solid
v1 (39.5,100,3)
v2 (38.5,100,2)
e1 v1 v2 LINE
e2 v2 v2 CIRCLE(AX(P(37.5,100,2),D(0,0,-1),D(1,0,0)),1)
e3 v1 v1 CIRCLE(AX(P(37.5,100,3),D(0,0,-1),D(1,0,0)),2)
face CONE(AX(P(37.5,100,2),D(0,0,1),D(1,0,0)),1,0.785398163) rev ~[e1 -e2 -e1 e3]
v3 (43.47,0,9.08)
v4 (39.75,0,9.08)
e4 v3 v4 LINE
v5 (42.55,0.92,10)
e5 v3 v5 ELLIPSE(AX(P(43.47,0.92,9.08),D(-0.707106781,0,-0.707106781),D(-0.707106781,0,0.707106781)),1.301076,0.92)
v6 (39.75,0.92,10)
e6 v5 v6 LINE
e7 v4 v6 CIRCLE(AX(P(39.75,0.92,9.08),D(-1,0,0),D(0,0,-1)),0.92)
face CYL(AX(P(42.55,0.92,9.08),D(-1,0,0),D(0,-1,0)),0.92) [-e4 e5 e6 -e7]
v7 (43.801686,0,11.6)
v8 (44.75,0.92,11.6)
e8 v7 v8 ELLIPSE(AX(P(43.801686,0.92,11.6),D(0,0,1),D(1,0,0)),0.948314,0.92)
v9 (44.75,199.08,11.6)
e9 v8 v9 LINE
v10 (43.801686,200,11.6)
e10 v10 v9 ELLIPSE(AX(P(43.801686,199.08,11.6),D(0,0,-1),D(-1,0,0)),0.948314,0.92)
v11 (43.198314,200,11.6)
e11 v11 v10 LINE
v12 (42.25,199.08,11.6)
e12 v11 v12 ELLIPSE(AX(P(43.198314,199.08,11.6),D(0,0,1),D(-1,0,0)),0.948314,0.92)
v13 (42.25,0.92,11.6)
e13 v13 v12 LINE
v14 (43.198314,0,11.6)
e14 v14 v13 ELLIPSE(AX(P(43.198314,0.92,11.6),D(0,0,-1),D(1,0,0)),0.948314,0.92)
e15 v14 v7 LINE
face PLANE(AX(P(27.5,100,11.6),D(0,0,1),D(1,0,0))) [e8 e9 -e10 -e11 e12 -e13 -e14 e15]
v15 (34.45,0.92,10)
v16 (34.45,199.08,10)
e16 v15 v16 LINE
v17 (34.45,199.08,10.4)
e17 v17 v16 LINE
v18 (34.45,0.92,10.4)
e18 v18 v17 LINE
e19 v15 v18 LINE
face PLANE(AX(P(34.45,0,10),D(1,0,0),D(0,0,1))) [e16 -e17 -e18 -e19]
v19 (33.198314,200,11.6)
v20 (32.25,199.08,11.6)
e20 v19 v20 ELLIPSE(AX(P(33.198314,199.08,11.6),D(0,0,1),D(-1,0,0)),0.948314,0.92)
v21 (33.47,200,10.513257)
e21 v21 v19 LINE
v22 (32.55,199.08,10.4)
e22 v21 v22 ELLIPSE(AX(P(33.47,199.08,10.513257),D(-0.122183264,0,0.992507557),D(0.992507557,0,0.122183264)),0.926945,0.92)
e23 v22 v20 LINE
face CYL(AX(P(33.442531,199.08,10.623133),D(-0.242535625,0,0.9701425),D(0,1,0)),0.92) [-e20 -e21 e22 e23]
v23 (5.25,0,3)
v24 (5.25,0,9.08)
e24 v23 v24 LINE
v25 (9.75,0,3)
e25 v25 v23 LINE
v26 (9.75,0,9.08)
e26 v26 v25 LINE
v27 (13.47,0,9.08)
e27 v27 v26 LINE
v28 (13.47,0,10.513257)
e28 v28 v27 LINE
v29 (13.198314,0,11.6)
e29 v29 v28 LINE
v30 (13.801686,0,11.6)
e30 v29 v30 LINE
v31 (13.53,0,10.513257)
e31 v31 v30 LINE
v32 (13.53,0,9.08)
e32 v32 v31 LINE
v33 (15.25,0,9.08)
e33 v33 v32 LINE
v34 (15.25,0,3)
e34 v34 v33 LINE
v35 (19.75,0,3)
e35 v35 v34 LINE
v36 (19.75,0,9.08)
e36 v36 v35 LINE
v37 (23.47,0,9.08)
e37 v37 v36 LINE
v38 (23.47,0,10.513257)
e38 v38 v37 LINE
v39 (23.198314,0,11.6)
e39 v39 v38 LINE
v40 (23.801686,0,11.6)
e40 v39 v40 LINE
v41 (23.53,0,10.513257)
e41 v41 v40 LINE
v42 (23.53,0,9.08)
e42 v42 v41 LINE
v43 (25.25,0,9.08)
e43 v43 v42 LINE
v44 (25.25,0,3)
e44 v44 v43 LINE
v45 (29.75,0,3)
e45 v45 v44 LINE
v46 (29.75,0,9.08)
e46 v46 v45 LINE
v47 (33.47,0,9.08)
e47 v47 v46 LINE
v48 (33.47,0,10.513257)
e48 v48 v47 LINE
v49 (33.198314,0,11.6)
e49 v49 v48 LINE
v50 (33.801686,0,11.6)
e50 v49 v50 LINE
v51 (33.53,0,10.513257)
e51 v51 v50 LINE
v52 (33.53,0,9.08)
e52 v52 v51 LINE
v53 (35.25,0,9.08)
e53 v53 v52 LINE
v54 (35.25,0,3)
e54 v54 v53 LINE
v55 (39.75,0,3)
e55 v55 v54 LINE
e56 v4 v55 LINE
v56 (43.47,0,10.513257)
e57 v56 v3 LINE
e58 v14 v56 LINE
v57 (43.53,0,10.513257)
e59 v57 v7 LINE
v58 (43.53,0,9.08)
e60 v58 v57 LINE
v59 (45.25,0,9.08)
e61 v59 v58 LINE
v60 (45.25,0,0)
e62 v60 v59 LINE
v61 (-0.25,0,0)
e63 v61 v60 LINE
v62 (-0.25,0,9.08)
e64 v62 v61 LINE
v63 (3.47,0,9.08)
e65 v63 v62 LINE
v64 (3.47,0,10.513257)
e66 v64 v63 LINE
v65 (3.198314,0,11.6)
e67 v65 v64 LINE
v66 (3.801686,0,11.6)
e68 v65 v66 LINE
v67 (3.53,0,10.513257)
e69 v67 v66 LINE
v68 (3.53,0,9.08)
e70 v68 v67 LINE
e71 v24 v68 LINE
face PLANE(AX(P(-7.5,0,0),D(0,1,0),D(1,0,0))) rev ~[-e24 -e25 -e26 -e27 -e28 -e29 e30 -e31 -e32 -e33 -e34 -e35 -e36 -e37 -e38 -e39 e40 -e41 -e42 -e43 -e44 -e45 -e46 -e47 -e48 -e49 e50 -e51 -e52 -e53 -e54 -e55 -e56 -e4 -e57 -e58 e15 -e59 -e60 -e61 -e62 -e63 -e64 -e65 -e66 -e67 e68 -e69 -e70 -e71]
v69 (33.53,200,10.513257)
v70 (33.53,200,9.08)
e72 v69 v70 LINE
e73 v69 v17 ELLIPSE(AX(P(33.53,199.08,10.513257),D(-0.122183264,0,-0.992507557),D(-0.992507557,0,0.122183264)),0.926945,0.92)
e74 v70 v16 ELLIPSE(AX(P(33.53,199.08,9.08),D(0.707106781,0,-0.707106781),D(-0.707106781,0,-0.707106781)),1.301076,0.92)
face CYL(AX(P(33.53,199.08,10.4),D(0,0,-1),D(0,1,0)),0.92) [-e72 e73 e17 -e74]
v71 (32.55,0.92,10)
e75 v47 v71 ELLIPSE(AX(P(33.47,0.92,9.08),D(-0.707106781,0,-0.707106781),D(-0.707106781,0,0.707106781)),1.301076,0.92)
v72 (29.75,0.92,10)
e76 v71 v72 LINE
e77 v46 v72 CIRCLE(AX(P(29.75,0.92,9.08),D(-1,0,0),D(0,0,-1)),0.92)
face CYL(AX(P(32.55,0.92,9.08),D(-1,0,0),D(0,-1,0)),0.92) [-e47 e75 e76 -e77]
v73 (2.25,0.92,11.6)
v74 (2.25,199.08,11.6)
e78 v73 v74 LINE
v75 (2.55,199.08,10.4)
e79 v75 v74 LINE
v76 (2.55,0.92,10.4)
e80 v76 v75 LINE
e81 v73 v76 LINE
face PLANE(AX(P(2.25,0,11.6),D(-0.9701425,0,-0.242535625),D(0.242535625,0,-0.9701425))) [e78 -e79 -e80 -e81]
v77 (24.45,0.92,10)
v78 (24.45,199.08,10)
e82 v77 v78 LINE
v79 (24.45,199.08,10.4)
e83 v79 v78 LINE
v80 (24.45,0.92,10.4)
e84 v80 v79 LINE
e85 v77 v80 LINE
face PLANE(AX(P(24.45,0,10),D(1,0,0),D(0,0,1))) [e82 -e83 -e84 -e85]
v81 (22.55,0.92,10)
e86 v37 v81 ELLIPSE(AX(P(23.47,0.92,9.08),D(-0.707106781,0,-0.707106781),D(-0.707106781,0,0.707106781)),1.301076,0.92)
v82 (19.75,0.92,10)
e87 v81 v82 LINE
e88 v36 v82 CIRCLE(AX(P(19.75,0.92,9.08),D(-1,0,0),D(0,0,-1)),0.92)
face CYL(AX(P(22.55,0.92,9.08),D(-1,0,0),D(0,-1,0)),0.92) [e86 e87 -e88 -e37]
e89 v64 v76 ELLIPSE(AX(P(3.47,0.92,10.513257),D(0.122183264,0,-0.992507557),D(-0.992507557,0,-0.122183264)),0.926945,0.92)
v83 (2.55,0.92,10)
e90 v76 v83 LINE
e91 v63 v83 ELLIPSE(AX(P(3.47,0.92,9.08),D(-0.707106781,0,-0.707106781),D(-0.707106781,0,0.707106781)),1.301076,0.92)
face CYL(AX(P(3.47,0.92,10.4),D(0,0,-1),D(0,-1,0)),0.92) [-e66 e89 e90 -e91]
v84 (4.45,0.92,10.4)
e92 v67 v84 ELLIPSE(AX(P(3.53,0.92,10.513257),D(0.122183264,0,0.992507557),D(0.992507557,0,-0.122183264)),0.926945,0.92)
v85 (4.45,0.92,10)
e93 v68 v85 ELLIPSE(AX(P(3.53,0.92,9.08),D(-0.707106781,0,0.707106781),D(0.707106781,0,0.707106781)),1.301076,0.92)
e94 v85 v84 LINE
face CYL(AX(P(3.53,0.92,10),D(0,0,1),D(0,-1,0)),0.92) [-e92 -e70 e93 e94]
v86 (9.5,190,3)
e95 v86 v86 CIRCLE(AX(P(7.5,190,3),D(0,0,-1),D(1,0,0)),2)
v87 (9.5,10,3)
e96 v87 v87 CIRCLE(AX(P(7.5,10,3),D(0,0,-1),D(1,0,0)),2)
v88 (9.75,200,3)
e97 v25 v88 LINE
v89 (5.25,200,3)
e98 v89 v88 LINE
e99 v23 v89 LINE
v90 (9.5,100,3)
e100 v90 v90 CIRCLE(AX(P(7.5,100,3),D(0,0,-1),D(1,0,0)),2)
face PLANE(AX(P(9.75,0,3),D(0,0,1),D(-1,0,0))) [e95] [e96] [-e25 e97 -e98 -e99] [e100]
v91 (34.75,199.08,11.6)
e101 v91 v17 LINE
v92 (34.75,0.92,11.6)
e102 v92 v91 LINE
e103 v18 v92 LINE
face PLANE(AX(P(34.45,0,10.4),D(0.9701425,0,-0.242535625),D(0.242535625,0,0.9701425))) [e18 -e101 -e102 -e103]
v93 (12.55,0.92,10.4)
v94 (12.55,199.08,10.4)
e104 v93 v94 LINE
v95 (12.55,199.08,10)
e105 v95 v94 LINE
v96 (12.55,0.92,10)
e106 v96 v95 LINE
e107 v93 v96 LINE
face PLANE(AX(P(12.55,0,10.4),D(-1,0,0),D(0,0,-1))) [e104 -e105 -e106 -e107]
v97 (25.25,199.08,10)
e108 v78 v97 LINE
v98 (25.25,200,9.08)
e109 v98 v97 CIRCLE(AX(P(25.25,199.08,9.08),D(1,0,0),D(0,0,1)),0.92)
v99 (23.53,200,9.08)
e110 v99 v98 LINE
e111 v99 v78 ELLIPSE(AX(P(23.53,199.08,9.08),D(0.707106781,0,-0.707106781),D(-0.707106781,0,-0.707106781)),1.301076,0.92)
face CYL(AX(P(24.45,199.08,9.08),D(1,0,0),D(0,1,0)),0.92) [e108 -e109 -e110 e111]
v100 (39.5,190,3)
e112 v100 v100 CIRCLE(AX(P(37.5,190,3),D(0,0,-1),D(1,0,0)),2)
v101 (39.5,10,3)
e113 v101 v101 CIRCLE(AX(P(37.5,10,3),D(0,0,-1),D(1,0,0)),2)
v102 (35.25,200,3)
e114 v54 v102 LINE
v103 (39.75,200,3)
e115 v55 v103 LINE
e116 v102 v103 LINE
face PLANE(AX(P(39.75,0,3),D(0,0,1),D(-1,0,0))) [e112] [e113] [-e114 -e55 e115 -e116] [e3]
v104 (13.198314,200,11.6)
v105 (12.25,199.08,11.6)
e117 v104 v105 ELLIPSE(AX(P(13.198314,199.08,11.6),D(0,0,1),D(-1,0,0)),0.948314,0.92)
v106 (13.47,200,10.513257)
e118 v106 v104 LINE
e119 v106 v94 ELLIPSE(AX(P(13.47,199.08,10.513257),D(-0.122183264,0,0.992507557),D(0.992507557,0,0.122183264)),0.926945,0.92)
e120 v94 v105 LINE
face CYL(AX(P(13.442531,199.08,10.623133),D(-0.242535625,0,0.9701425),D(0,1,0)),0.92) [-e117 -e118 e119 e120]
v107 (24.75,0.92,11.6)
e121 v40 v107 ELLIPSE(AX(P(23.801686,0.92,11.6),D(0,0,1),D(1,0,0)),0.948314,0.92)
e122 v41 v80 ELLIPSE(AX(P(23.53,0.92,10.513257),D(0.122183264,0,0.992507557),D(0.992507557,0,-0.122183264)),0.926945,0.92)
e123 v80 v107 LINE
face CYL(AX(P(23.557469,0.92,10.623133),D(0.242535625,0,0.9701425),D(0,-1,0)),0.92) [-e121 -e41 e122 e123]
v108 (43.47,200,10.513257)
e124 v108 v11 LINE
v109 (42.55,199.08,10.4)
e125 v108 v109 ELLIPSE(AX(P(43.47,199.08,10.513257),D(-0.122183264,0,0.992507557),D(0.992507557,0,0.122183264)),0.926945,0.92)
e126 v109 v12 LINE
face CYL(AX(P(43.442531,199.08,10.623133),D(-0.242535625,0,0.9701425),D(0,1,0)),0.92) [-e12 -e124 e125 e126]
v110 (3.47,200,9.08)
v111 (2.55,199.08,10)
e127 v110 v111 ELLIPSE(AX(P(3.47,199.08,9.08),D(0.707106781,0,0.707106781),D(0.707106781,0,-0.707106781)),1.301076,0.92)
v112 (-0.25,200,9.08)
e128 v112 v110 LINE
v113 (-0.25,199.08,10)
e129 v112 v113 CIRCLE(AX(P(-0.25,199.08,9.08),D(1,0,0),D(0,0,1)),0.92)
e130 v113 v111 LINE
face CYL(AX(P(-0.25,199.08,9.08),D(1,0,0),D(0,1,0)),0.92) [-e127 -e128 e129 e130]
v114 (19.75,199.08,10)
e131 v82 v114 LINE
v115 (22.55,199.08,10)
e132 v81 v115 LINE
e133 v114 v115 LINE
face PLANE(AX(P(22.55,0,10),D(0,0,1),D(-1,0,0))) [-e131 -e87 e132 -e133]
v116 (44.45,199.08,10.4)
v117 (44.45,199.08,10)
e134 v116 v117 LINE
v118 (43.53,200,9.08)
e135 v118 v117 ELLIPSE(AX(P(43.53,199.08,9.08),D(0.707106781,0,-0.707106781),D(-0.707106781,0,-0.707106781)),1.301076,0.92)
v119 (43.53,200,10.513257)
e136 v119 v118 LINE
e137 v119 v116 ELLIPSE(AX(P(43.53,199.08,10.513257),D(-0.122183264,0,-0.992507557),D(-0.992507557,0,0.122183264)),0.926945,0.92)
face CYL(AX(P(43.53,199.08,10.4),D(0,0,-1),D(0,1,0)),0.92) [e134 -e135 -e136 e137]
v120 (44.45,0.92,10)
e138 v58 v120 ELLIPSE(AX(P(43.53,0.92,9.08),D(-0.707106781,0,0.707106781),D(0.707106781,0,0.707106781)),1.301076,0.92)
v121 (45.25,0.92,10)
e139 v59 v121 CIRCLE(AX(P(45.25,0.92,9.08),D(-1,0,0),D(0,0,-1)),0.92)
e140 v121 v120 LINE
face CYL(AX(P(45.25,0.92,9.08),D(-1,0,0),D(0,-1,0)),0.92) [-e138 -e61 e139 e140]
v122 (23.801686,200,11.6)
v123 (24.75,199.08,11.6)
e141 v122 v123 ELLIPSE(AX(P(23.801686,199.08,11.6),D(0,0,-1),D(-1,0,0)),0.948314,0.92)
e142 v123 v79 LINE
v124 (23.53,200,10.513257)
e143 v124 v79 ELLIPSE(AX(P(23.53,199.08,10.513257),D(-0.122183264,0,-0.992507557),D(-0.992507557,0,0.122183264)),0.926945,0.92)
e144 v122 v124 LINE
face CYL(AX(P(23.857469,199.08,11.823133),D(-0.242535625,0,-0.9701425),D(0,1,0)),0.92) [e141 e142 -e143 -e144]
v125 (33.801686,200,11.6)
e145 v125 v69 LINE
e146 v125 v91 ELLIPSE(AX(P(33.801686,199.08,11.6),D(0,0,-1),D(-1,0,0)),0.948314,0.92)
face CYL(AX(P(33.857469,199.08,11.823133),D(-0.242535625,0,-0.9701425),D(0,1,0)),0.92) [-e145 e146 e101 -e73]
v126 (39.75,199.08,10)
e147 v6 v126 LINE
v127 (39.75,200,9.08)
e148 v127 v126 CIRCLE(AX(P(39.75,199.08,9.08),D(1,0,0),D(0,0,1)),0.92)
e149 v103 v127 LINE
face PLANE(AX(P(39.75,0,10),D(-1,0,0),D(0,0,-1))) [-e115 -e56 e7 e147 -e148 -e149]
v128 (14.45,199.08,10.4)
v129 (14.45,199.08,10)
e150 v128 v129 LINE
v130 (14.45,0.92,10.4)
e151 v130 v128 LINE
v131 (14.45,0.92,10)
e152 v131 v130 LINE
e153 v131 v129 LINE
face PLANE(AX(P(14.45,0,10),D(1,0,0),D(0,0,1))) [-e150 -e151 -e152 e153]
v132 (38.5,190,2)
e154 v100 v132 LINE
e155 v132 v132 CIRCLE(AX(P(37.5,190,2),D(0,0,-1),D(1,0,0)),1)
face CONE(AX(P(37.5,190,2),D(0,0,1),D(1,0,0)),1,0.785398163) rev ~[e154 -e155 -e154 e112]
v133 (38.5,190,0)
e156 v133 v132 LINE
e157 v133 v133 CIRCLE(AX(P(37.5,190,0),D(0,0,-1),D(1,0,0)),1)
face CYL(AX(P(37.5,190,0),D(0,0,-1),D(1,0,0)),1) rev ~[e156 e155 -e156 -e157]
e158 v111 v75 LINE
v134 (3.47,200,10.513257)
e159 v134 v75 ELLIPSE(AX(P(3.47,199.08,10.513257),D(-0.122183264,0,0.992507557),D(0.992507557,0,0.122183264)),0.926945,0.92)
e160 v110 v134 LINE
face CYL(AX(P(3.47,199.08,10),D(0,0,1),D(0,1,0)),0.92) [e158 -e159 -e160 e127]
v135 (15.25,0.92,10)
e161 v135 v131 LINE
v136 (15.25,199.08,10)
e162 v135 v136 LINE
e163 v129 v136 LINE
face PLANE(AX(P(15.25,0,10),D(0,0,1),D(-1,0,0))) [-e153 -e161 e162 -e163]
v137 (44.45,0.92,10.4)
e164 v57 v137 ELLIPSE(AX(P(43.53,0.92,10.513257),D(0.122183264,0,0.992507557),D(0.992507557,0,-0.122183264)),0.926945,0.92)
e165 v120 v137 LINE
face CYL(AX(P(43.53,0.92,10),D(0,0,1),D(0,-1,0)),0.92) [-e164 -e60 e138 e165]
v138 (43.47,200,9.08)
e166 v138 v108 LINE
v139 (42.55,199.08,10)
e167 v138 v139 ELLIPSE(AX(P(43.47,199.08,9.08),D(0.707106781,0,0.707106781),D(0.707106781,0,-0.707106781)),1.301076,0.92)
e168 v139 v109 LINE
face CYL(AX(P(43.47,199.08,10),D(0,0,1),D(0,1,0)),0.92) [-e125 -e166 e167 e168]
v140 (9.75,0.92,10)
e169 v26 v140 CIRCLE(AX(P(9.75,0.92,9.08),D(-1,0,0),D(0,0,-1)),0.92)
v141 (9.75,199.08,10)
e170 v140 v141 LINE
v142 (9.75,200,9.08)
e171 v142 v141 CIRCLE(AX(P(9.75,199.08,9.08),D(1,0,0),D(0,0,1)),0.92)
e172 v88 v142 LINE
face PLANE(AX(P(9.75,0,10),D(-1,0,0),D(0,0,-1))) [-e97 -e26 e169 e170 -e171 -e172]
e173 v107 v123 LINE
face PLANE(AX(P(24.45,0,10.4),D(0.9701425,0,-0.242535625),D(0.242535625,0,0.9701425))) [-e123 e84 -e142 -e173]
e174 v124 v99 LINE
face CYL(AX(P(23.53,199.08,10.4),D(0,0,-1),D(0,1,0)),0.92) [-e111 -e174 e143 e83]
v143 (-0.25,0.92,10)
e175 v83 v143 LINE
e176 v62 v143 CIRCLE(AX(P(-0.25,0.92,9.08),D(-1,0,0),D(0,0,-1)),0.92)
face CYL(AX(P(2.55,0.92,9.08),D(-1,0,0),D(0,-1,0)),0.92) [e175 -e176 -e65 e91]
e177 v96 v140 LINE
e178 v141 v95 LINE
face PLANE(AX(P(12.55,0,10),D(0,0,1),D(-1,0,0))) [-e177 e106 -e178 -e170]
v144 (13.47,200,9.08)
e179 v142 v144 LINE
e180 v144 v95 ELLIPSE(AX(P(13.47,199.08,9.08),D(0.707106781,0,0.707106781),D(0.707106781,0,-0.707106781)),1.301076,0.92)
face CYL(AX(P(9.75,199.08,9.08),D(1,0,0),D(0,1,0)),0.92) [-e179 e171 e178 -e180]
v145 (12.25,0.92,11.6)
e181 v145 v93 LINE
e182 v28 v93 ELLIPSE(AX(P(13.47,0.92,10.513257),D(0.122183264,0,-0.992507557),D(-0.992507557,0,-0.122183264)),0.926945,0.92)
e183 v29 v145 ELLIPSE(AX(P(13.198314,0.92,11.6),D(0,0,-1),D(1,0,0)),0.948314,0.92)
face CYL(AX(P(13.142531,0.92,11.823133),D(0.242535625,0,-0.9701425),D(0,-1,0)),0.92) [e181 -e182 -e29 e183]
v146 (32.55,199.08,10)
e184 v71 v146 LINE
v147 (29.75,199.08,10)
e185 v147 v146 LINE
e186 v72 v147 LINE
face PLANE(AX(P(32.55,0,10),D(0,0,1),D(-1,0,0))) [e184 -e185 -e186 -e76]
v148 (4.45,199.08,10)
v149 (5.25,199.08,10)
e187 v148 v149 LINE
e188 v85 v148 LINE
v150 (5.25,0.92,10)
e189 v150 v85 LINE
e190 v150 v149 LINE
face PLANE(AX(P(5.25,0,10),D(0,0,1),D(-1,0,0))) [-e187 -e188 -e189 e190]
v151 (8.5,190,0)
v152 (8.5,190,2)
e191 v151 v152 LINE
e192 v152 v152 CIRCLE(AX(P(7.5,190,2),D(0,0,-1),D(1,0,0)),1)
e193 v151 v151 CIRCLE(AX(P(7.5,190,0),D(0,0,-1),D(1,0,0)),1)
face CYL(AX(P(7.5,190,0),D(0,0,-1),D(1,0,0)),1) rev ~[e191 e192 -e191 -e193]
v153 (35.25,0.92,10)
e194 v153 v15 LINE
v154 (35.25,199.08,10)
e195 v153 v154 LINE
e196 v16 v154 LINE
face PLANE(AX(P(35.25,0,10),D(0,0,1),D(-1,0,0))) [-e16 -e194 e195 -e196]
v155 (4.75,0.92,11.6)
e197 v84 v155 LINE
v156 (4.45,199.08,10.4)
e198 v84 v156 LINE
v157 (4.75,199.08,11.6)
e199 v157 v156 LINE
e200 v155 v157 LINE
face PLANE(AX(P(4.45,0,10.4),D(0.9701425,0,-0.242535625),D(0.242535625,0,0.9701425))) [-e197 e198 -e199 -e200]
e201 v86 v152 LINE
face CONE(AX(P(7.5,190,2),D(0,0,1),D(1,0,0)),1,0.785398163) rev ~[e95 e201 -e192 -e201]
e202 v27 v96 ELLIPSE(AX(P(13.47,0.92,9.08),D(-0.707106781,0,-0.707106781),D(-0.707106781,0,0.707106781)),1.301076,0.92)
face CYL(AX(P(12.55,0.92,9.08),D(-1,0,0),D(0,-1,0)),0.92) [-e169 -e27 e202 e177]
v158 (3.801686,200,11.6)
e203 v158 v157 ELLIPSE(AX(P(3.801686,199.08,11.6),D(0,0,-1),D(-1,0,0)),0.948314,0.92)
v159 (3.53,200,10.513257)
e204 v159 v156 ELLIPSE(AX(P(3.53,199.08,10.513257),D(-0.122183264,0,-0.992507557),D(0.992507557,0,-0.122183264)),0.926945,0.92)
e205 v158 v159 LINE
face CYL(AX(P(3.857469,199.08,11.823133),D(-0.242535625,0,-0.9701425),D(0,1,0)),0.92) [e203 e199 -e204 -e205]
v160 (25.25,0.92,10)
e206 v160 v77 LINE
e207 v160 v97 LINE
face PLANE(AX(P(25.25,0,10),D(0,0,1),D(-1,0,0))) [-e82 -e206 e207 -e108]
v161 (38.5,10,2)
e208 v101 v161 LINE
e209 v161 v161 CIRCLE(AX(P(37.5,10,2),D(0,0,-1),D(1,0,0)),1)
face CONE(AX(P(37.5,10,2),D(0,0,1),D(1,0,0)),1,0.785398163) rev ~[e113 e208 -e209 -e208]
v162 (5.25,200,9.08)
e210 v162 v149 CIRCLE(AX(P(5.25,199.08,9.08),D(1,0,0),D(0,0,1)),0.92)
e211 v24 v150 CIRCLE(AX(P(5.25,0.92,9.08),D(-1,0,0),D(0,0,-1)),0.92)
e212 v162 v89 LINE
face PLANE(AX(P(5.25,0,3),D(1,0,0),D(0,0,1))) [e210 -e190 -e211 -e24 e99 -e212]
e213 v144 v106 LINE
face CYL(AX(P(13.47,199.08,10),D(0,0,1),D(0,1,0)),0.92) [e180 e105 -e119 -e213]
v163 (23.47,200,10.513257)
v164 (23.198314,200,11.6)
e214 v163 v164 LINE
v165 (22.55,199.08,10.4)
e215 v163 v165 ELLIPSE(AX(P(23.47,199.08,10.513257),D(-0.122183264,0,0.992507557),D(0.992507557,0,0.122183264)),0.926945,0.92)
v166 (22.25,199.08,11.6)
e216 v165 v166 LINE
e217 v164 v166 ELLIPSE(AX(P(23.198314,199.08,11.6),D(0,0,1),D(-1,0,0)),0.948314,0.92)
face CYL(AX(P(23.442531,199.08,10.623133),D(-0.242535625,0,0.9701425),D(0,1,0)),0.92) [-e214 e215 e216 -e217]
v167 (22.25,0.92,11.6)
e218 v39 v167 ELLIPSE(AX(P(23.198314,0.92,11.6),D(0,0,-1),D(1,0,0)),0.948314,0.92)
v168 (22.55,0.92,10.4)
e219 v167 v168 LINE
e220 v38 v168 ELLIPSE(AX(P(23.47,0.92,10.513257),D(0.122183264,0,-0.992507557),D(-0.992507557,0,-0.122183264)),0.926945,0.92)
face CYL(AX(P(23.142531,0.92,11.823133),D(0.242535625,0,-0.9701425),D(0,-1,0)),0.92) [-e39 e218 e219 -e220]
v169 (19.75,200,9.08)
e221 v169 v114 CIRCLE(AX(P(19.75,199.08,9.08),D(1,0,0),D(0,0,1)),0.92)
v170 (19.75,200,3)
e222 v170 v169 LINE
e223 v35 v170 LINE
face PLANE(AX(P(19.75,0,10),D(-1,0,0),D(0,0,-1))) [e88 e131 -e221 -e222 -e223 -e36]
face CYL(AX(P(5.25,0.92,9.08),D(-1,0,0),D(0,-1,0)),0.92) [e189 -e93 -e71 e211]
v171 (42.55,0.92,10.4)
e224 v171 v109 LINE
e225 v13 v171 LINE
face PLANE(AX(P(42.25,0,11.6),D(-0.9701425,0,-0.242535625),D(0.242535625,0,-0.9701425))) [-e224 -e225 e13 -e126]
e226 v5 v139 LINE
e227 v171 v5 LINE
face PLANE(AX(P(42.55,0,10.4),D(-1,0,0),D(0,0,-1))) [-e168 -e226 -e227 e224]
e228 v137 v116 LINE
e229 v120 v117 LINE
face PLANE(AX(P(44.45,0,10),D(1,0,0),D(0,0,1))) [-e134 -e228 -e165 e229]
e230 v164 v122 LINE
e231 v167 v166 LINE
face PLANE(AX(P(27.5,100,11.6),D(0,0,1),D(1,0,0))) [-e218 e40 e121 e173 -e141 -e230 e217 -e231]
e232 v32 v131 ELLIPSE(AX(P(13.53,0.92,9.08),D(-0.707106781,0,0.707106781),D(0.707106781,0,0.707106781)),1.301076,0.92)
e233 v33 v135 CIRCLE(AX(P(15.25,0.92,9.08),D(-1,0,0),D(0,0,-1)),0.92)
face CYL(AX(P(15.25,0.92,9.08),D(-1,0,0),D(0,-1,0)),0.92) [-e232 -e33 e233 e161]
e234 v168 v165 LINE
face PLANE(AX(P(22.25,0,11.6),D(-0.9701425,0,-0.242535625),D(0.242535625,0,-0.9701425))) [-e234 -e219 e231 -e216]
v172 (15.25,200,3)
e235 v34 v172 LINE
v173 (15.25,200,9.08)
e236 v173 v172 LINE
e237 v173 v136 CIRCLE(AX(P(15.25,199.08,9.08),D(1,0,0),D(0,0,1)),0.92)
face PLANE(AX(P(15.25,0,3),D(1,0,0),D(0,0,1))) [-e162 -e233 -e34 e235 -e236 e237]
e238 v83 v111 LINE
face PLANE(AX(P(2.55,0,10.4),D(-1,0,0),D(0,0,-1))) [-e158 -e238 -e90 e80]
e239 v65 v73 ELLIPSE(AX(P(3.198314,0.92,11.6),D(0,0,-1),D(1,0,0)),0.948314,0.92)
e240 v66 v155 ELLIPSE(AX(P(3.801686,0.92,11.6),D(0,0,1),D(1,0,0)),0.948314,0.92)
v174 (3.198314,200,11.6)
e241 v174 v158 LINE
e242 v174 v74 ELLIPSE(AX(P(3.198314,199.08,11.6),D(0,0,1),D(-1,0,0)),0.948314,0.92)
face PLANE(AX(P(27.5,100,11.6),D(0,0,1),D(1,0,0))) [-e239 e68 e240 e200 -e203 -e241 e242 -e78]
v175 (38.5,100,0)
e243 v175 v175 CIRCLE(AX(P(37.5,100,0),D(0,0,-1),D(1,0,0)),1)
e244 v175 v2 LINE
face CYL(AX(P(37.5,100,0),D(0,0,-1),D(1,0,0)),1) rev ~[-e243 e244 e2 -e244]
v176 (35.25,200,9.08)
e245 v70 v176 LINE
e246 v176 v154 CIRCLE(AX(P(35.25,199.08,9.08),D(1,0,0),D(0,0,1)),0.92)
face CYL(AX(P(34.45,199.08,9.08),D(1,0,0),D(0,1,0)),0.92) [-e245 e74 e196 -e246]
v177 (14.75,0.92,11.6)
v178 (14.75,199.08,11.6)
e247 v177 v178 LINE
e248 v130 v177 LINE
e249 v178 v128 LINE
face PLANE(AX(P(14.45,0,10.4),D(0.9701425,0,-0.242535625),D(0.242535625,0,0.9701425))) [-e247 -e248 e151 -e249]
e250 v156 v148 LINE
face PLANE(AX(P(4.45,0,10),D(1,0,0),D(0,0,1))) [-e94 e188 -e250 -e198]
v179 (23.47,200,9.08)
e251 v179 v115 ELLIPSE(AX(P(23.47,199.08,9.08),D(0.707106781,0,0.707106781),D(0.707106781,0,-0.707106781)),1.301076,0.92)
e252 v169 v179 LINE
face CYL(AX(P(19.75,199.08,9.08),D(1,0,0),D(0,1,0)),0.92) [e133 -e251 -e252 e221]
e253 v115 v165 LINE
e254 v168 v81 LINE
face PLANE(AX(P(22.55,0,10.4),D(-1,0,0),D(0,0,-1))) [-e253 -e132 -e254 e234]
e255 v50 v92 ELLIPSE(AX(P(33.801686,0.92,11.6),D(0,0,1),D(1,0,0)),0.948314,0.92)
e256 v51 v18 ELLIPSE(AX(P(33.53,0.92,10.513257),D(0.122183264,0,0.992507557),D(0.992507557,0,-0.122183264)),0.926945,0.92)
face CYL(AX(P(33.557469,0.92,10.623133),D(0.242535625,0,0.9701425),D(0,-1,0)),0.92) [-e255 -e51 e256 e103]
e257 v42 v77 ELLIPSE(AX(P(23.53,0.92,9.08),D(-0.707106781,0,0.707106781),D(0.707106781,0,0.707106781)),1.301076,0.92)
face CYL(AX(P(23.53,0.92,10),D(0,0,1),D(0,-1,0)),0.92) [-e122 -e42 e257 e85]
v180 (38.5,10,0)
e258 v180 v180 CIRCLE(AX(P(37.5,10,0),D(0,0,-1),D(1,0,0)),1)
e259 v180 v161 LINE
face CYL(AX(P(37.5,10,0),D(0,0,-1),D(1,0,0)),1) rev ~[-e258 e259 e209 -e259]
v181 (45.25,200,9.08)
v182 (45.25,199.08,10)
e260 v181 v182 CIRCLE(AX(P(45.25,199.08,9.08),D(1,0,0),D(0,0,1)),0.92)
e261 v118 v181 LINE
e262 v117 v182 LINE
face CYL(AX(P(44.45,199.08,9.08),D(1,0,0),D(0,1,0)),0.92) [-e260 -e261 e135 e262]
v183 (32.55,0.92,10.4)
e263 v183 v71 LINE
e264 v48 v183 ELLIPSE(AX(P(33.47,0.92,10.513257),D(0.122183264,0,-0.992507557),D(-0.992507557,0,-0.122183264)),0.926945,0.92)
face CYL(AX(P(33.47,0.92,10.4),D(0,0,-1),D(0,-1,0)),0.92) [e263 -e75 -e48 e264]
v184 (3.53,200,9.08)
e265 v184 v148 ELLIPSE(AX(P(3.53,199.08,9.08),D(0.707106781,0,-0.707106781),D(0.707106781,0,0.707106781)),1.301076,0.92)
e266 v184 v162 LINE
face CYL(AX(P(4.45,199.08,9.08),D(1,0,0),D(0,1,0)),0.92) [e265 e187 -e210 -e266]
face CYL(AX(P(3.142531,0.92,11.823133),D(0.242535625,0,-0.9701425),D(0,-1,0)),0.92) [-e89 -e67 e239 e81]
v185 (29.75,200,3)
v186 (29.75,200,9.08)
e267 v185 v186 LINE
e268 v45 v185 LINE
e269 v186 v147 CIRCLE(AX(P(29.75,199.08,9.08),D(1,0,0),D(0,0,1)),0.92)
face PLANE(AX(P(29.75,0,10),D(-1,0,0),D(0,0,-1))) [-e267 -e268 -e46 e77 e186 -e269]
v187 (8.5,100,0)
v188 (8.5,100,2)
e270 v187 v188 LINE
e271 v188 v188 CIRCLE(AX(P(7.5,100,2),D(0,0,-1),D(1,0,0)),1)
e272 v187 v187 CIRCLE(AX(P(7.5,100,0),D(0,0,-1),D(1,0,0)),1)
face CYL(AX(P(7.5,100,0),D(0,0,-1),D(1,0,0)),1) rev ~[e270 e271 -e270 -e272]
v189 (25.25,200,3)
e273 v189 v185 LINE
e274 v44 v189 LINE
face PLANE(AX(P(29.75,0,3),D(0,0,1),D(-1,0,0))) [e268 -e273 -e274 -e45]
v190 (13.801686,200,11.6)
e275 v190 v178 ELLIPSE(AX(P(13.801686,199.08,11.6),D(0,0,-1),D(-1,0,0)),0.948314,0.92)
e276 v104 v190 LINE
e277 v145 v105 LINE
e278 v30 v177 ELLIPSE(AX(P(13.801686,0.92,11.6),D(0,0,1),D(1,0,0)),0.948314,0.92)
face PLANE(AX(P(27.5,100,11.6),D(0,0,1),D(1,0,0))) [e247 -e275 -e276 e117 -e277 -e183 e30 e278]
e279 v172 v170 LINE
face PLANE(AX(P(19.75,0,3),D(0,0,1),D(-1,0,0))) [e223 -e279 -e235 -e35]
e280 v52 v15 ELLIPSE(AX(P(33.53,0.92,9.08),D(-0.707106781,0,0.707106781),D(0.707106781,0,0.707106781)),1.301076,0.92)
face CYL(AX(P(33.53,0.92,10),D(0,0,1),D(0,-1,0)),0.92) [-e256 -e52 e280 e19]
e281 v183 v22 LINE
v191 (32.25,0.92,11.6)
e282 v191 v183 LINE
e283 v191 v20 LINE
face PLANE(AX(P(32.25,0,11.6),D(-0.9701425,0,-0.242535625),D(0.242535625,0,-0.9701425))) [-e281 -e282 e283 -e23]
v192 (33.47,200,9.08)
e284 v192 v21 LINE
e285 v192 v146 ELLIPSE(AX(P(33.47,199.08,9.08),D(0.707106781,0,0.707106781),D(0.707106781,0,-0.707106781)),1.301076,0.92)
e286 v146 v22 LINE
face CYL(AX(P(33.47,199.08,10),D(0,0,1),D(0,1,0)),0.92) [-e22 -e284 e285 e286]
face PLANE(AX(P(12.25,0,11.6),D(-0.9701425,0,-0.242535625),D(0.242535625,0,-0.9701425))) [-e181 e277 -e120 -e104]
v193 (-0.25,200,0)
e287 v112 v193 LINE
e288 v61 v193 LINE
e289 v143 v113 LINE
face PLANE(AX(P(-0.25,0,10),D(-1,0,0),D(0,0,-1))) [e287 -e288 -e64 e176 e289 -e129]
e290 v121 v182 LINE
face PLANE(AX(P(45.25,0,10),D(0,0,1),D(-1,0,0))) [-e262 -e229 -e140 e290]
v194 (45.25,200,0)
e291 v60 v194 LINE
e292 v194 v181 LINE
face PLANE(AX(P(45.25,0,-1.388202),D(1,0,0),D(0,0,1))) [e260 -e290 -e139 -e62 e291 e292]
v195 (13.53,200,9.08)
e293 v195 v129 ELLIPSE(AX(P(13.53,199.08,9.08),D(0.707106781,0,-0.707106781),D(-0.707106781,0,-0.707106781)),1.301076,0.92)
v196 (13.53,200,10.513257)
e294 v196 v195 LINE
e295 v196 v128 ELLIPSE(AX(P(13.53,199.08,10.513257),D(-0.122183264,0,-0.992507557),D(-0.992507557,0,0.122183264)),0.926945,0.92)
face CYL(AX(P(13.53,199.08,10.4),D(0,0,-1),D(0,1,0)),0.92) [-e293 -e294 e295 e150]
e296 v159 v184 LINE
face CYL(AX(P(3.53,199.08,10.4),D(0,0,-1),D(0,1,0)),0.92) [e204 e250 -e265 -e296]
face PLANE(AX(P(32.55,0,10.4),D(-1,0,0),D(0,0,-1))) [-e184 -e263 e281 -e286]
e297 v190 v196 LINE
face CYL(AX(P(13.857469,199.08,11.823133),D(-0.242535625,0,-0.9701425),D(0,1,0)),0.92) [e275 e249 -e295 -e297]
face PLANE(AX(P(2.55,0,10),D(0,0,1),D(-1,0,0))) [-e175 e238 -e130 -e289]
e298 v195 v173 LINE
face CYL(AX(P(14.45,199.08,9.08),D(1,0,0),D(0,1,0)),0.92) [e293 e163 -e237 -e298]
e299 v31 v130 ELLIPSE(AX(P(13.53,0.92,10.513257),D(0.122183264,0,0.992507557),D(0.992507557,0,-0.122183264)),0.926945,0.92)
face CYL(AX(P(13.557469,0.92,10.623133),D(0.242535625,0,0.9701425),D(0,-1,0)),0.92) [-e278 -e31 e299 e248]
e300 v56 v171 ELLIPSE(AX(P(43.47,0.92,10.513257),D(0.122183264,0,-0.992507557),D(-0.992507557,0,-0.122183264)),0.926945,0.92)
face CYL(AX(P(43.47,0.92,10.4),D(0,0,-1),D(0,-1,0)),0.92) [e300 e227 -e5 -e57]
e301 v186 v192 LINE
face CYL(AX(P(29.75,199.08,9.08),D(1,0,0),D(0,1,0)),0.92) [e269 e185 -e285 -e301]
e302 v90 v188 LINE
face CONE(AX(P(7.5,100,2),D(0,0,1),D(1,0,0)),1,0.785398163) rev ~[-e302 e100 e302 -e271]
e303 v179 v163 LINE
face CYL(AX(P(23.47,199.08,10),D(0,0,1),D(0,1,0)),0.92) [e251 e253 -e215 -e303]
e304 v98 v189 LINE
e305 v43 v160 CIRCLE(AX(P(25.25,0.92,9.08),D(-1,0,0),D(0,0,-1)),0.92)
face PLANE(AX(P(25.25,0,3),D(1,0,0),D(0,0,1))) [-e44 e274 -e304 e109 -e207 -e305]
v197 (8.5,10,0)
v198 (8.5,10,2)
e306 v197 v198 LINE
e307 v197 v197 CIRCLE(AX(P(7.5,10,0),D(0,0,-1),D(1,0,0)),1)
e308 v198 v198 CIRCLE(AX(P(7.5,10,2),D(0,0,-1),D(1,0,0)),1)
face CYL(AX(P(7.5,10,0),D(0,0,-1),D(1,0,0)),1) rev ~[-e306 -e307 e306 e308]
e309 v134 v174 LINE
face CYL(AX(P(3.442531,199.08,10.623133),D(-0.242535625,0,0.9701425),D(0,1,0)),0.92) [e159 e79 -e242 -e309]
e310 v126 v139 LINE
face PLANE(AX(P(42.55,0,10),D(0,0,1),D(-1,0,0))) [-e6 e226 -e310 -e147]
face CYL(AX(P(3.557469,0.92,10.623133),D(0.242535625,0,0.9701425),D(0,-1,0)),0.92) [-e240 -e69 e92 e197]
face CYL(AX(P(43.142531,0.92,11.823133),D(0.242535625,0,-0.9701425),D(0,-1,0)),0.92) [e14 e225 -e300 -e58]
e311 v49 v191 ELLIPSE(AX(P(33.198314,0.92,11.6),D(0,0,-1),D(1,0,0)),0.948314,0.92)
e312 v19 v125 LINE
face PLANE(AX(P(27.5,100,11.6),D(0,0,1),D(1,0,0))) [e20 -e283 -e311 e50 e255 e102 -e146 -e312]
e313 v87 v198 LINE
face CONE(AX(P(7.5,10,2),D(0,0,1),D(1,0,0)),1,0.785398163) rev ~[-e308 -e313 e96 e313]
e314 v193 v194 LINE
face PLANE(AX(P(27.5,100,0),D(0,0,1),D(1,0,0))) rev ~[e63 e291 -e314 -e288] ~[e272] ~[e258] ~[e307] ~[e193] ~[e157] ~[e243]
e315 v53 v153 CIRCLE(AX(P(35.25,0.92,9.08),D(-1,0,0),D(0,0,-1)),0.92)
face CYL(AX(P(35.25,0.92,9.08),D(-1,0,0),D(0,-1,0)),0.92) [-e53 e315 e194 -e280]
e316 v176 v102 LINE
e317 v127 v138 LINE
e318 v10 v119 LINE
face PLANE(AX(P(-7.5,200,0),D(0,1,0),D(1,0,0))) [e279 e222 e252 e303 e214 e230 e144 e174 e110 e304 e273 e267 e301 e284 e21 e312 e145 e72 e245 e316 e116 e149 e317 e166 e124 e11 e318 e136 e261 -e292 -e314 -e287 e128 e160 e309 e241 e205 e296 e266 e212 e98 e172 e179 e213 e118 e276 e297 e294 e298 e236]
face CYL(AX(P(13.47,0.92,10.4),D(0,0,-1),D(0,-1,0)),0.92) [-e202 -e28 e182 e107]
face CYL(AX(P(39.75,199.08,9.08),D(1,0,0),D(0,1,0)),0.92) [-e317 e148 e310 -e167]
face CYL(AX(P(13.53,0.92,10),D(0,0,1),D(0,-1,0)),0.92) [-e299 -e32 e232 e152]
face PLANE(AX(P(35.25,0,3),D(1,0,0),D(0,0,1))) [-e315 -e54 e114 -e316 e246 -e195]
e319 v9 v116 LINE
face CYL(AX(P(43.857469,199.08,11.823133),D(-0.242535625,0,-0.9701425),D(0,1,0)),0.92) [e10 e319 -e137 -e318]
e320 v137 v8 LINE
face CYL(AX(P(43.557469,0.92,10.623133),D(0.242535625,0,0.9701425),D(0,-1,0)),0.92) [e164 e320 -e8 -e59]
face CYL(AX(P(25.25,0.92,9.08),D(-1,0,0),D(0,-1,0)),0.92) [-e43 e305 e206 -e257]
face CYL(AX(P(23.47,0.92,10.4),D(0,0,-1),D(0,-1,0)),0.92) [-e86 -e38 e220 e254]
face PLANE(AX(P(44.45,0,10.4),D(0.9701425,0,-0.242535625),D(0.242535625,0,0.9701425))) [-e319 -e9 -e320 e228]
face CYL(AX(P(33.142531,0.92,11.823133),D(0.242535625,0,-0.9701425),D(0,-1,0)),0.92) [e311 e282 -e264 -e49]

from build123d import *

# Parameters (mm, degrees)
BOX_W               = 70
BOX_H               = 200
BOX_DEPTH           = 11.6
POCKET_DEPTH        = 200.001
LINEARPATTERN_COUNT = 6
LINEARPATTERN_PITCH = 10
SKETCH_W            = 82.408782
SKETCH_H            = 38.885188
SKETCH_W_2          = 45.5
SKETCH_H_2          = 14.501198
POCKET001_DEPTH     = 200.001
SKETCH003_R         = 1
POCKET002_DEPTH     = 11.601
CHAMFER_SIZE        = 1
FILLET_R            = 0.92


with BuildPart() as part:
    # Box → Box (new body)
    with BuildSketch(Plane(origin=(-7.5, 0, 0), x_dir=(1, 0, 0), z_dir=(0, 0, 1))):
        with Locations((35, 100)):
            Rectangle(BOX_W, BOX_H)
    extrude(amount=BOX_DEPTH)

    # Sketch002 → Pocket (cut, through all)
    with BuildSketch(Plane(origin=(-7.5, 0, 0), x_dir=(1, 0, 0), z_dir=(0, -1, 0))):
        Polygon((10.05, 10), (7.25, 10), (7.25, 3), (2.75, 3), (2.75, 10), (1.95, 10), (1.95, 10.4), (2.25, 11.6), (9.75, 11.6), (10.05, 10.4), align=None)
    pocket = extrude(amount=-POCKET_DEPTH, mode=Mode.SUBTRACT)

    # LinearPattern: Pocket ×6
    with Locations(*[(i * LINEARPATTERN_PITCH, 0, 0) for i in range(1, LINEARPATTERN_COUNT)]):
        add(pocket, mode=Mode.SUBTRACT)

    # Sketch → Pocket001 (cut, through all)
    with BuildSketch(Plane(origin=(-7.5, 0, 0), x_dir=(1, 0, 0), z_dir=(0, -1, 0))):
        with Locations((35.413628, 6.289411)):
            Rectangle(SKETCH_W, SKETCH_H)
        with Locations((30, 5.862397)):
            Rectangle(SKETCH_W_2, SKETCH_H_2, mode=Mode.SUBTRACT)
    extrude(amount=-POCKET001_DEPTH, mode=Mode.SUBTRACT)

    # Sketch003 → Pocket002 (cut, through all)
    with BuildSketch(Plane(origin=(-7.5, 0, 0), x_dir=(1, 0, 0), z_dir=(0, 0, -1))):
        with Locations((15, -10)):
            Circle(SKETCH003_R)
        with Locations((45, -10)):
            Circle(SKETCH003_R)
        with Locations((15, -190)):
            Circle(SKETCH003_R)
        with Locations((45, -190)):
            Circle(SKETCH003_R)
        with Locations((15, -100)):
            Circle(SKETCH003_R)
        with Locations((45, -100)):
            Circle(SKETCH003_R)
    extrude(amount=-POCKET002_DEPTH, mode=Mode.SUBTRACT)

    # Chamfer
    chamfer_edges = [part.edges().sort_by_distance(p)[0] for p in [
        (36.5, 190, 3),
        (6.5, 190, 3),
        (36.5, 100, 3),
        (6.5, 100, 3),
        (36.5, 10, 3),
        (6.5, 10, 3),
    ]]
    chamfer(chamfer_edges, length=CHAMFER_SIZE)

    # Fillet
    fillet_edges = [part.edges().sort_by_distance(p)[0] for p in [
        (1.15, 0, 10),
        (2.55, 0, 10.2),
        (2.4, 0, 11),
        (4.6, 0, 11),
        (4.45, 0, 10.2),
        (4.85, 0, 10),
        (11.15, 0, 10),
        (12.55, 0, 10.2),
        (12.4, 0, 11),
        (14.6, 0, 11),
        (14.45, 0, 10.2),
        (14.85, 0, 10),
        (21.15, 0, 10),
        (22.55, 0, 10.2),
        (22.4, 0, 11),
        (24.6, 0, 11),
        (24.45, 0, 10.2),
        (24.85, 0, 10),
        (31.15, 0, 10),
        (32.55, 0, 10.2),
        (32.4, 0, 11),
        (34.6, 0, 11),
        (34.45, 0, 10.2),
        (34.85, 0, 10),
        (41.15, 0, 10),
        (42.55, 0, 10.2),
        (42.4, 0, 11),
        (44.6, 0, 11),
        (44.45, 0, 10.2),
        (44.85, 0, 10),
        (1.15, 200, 10),
        (2.55, 200, 10.2),
        (2.4, 200, 11),
        (4.85, 200, 10),
        (4.45, 200, 10.2),
        (4.6, 200, 11),
        (11.15, 200, 10),
        (12.55, 200, 10.2),
        (12.4, 200, 11),
        (14.6, 200, 11),
        (14.45, 200, 10.2),
        (14.85, 200, 10),
        (21.15, 200, 10),
        (22.55, 200, 10.2),
        (22.4, 200, 11),
        (24.6, 200, 11),
        (24.45, 200, 10.2),
        (24.85, 200, 10),
        (31.15, 200, 10),
        (32.55, 200, 10.2),
        (32.4, 200, 11),
        (34.6, 200, 11),
        (34.45, 200, 10.2),
        (34.85, 200, 10),
        (41.15, 200, 10),
        (42.55, 200, 10.2),
        (42.4, 200, 11),
        (44.6, 200, 11),
        (44.45, 200, 10.2),
        (44.85, 200, 10),
    ]]
    fillet(fillet_edges, radius=FILLET_R)


solid = part.part
